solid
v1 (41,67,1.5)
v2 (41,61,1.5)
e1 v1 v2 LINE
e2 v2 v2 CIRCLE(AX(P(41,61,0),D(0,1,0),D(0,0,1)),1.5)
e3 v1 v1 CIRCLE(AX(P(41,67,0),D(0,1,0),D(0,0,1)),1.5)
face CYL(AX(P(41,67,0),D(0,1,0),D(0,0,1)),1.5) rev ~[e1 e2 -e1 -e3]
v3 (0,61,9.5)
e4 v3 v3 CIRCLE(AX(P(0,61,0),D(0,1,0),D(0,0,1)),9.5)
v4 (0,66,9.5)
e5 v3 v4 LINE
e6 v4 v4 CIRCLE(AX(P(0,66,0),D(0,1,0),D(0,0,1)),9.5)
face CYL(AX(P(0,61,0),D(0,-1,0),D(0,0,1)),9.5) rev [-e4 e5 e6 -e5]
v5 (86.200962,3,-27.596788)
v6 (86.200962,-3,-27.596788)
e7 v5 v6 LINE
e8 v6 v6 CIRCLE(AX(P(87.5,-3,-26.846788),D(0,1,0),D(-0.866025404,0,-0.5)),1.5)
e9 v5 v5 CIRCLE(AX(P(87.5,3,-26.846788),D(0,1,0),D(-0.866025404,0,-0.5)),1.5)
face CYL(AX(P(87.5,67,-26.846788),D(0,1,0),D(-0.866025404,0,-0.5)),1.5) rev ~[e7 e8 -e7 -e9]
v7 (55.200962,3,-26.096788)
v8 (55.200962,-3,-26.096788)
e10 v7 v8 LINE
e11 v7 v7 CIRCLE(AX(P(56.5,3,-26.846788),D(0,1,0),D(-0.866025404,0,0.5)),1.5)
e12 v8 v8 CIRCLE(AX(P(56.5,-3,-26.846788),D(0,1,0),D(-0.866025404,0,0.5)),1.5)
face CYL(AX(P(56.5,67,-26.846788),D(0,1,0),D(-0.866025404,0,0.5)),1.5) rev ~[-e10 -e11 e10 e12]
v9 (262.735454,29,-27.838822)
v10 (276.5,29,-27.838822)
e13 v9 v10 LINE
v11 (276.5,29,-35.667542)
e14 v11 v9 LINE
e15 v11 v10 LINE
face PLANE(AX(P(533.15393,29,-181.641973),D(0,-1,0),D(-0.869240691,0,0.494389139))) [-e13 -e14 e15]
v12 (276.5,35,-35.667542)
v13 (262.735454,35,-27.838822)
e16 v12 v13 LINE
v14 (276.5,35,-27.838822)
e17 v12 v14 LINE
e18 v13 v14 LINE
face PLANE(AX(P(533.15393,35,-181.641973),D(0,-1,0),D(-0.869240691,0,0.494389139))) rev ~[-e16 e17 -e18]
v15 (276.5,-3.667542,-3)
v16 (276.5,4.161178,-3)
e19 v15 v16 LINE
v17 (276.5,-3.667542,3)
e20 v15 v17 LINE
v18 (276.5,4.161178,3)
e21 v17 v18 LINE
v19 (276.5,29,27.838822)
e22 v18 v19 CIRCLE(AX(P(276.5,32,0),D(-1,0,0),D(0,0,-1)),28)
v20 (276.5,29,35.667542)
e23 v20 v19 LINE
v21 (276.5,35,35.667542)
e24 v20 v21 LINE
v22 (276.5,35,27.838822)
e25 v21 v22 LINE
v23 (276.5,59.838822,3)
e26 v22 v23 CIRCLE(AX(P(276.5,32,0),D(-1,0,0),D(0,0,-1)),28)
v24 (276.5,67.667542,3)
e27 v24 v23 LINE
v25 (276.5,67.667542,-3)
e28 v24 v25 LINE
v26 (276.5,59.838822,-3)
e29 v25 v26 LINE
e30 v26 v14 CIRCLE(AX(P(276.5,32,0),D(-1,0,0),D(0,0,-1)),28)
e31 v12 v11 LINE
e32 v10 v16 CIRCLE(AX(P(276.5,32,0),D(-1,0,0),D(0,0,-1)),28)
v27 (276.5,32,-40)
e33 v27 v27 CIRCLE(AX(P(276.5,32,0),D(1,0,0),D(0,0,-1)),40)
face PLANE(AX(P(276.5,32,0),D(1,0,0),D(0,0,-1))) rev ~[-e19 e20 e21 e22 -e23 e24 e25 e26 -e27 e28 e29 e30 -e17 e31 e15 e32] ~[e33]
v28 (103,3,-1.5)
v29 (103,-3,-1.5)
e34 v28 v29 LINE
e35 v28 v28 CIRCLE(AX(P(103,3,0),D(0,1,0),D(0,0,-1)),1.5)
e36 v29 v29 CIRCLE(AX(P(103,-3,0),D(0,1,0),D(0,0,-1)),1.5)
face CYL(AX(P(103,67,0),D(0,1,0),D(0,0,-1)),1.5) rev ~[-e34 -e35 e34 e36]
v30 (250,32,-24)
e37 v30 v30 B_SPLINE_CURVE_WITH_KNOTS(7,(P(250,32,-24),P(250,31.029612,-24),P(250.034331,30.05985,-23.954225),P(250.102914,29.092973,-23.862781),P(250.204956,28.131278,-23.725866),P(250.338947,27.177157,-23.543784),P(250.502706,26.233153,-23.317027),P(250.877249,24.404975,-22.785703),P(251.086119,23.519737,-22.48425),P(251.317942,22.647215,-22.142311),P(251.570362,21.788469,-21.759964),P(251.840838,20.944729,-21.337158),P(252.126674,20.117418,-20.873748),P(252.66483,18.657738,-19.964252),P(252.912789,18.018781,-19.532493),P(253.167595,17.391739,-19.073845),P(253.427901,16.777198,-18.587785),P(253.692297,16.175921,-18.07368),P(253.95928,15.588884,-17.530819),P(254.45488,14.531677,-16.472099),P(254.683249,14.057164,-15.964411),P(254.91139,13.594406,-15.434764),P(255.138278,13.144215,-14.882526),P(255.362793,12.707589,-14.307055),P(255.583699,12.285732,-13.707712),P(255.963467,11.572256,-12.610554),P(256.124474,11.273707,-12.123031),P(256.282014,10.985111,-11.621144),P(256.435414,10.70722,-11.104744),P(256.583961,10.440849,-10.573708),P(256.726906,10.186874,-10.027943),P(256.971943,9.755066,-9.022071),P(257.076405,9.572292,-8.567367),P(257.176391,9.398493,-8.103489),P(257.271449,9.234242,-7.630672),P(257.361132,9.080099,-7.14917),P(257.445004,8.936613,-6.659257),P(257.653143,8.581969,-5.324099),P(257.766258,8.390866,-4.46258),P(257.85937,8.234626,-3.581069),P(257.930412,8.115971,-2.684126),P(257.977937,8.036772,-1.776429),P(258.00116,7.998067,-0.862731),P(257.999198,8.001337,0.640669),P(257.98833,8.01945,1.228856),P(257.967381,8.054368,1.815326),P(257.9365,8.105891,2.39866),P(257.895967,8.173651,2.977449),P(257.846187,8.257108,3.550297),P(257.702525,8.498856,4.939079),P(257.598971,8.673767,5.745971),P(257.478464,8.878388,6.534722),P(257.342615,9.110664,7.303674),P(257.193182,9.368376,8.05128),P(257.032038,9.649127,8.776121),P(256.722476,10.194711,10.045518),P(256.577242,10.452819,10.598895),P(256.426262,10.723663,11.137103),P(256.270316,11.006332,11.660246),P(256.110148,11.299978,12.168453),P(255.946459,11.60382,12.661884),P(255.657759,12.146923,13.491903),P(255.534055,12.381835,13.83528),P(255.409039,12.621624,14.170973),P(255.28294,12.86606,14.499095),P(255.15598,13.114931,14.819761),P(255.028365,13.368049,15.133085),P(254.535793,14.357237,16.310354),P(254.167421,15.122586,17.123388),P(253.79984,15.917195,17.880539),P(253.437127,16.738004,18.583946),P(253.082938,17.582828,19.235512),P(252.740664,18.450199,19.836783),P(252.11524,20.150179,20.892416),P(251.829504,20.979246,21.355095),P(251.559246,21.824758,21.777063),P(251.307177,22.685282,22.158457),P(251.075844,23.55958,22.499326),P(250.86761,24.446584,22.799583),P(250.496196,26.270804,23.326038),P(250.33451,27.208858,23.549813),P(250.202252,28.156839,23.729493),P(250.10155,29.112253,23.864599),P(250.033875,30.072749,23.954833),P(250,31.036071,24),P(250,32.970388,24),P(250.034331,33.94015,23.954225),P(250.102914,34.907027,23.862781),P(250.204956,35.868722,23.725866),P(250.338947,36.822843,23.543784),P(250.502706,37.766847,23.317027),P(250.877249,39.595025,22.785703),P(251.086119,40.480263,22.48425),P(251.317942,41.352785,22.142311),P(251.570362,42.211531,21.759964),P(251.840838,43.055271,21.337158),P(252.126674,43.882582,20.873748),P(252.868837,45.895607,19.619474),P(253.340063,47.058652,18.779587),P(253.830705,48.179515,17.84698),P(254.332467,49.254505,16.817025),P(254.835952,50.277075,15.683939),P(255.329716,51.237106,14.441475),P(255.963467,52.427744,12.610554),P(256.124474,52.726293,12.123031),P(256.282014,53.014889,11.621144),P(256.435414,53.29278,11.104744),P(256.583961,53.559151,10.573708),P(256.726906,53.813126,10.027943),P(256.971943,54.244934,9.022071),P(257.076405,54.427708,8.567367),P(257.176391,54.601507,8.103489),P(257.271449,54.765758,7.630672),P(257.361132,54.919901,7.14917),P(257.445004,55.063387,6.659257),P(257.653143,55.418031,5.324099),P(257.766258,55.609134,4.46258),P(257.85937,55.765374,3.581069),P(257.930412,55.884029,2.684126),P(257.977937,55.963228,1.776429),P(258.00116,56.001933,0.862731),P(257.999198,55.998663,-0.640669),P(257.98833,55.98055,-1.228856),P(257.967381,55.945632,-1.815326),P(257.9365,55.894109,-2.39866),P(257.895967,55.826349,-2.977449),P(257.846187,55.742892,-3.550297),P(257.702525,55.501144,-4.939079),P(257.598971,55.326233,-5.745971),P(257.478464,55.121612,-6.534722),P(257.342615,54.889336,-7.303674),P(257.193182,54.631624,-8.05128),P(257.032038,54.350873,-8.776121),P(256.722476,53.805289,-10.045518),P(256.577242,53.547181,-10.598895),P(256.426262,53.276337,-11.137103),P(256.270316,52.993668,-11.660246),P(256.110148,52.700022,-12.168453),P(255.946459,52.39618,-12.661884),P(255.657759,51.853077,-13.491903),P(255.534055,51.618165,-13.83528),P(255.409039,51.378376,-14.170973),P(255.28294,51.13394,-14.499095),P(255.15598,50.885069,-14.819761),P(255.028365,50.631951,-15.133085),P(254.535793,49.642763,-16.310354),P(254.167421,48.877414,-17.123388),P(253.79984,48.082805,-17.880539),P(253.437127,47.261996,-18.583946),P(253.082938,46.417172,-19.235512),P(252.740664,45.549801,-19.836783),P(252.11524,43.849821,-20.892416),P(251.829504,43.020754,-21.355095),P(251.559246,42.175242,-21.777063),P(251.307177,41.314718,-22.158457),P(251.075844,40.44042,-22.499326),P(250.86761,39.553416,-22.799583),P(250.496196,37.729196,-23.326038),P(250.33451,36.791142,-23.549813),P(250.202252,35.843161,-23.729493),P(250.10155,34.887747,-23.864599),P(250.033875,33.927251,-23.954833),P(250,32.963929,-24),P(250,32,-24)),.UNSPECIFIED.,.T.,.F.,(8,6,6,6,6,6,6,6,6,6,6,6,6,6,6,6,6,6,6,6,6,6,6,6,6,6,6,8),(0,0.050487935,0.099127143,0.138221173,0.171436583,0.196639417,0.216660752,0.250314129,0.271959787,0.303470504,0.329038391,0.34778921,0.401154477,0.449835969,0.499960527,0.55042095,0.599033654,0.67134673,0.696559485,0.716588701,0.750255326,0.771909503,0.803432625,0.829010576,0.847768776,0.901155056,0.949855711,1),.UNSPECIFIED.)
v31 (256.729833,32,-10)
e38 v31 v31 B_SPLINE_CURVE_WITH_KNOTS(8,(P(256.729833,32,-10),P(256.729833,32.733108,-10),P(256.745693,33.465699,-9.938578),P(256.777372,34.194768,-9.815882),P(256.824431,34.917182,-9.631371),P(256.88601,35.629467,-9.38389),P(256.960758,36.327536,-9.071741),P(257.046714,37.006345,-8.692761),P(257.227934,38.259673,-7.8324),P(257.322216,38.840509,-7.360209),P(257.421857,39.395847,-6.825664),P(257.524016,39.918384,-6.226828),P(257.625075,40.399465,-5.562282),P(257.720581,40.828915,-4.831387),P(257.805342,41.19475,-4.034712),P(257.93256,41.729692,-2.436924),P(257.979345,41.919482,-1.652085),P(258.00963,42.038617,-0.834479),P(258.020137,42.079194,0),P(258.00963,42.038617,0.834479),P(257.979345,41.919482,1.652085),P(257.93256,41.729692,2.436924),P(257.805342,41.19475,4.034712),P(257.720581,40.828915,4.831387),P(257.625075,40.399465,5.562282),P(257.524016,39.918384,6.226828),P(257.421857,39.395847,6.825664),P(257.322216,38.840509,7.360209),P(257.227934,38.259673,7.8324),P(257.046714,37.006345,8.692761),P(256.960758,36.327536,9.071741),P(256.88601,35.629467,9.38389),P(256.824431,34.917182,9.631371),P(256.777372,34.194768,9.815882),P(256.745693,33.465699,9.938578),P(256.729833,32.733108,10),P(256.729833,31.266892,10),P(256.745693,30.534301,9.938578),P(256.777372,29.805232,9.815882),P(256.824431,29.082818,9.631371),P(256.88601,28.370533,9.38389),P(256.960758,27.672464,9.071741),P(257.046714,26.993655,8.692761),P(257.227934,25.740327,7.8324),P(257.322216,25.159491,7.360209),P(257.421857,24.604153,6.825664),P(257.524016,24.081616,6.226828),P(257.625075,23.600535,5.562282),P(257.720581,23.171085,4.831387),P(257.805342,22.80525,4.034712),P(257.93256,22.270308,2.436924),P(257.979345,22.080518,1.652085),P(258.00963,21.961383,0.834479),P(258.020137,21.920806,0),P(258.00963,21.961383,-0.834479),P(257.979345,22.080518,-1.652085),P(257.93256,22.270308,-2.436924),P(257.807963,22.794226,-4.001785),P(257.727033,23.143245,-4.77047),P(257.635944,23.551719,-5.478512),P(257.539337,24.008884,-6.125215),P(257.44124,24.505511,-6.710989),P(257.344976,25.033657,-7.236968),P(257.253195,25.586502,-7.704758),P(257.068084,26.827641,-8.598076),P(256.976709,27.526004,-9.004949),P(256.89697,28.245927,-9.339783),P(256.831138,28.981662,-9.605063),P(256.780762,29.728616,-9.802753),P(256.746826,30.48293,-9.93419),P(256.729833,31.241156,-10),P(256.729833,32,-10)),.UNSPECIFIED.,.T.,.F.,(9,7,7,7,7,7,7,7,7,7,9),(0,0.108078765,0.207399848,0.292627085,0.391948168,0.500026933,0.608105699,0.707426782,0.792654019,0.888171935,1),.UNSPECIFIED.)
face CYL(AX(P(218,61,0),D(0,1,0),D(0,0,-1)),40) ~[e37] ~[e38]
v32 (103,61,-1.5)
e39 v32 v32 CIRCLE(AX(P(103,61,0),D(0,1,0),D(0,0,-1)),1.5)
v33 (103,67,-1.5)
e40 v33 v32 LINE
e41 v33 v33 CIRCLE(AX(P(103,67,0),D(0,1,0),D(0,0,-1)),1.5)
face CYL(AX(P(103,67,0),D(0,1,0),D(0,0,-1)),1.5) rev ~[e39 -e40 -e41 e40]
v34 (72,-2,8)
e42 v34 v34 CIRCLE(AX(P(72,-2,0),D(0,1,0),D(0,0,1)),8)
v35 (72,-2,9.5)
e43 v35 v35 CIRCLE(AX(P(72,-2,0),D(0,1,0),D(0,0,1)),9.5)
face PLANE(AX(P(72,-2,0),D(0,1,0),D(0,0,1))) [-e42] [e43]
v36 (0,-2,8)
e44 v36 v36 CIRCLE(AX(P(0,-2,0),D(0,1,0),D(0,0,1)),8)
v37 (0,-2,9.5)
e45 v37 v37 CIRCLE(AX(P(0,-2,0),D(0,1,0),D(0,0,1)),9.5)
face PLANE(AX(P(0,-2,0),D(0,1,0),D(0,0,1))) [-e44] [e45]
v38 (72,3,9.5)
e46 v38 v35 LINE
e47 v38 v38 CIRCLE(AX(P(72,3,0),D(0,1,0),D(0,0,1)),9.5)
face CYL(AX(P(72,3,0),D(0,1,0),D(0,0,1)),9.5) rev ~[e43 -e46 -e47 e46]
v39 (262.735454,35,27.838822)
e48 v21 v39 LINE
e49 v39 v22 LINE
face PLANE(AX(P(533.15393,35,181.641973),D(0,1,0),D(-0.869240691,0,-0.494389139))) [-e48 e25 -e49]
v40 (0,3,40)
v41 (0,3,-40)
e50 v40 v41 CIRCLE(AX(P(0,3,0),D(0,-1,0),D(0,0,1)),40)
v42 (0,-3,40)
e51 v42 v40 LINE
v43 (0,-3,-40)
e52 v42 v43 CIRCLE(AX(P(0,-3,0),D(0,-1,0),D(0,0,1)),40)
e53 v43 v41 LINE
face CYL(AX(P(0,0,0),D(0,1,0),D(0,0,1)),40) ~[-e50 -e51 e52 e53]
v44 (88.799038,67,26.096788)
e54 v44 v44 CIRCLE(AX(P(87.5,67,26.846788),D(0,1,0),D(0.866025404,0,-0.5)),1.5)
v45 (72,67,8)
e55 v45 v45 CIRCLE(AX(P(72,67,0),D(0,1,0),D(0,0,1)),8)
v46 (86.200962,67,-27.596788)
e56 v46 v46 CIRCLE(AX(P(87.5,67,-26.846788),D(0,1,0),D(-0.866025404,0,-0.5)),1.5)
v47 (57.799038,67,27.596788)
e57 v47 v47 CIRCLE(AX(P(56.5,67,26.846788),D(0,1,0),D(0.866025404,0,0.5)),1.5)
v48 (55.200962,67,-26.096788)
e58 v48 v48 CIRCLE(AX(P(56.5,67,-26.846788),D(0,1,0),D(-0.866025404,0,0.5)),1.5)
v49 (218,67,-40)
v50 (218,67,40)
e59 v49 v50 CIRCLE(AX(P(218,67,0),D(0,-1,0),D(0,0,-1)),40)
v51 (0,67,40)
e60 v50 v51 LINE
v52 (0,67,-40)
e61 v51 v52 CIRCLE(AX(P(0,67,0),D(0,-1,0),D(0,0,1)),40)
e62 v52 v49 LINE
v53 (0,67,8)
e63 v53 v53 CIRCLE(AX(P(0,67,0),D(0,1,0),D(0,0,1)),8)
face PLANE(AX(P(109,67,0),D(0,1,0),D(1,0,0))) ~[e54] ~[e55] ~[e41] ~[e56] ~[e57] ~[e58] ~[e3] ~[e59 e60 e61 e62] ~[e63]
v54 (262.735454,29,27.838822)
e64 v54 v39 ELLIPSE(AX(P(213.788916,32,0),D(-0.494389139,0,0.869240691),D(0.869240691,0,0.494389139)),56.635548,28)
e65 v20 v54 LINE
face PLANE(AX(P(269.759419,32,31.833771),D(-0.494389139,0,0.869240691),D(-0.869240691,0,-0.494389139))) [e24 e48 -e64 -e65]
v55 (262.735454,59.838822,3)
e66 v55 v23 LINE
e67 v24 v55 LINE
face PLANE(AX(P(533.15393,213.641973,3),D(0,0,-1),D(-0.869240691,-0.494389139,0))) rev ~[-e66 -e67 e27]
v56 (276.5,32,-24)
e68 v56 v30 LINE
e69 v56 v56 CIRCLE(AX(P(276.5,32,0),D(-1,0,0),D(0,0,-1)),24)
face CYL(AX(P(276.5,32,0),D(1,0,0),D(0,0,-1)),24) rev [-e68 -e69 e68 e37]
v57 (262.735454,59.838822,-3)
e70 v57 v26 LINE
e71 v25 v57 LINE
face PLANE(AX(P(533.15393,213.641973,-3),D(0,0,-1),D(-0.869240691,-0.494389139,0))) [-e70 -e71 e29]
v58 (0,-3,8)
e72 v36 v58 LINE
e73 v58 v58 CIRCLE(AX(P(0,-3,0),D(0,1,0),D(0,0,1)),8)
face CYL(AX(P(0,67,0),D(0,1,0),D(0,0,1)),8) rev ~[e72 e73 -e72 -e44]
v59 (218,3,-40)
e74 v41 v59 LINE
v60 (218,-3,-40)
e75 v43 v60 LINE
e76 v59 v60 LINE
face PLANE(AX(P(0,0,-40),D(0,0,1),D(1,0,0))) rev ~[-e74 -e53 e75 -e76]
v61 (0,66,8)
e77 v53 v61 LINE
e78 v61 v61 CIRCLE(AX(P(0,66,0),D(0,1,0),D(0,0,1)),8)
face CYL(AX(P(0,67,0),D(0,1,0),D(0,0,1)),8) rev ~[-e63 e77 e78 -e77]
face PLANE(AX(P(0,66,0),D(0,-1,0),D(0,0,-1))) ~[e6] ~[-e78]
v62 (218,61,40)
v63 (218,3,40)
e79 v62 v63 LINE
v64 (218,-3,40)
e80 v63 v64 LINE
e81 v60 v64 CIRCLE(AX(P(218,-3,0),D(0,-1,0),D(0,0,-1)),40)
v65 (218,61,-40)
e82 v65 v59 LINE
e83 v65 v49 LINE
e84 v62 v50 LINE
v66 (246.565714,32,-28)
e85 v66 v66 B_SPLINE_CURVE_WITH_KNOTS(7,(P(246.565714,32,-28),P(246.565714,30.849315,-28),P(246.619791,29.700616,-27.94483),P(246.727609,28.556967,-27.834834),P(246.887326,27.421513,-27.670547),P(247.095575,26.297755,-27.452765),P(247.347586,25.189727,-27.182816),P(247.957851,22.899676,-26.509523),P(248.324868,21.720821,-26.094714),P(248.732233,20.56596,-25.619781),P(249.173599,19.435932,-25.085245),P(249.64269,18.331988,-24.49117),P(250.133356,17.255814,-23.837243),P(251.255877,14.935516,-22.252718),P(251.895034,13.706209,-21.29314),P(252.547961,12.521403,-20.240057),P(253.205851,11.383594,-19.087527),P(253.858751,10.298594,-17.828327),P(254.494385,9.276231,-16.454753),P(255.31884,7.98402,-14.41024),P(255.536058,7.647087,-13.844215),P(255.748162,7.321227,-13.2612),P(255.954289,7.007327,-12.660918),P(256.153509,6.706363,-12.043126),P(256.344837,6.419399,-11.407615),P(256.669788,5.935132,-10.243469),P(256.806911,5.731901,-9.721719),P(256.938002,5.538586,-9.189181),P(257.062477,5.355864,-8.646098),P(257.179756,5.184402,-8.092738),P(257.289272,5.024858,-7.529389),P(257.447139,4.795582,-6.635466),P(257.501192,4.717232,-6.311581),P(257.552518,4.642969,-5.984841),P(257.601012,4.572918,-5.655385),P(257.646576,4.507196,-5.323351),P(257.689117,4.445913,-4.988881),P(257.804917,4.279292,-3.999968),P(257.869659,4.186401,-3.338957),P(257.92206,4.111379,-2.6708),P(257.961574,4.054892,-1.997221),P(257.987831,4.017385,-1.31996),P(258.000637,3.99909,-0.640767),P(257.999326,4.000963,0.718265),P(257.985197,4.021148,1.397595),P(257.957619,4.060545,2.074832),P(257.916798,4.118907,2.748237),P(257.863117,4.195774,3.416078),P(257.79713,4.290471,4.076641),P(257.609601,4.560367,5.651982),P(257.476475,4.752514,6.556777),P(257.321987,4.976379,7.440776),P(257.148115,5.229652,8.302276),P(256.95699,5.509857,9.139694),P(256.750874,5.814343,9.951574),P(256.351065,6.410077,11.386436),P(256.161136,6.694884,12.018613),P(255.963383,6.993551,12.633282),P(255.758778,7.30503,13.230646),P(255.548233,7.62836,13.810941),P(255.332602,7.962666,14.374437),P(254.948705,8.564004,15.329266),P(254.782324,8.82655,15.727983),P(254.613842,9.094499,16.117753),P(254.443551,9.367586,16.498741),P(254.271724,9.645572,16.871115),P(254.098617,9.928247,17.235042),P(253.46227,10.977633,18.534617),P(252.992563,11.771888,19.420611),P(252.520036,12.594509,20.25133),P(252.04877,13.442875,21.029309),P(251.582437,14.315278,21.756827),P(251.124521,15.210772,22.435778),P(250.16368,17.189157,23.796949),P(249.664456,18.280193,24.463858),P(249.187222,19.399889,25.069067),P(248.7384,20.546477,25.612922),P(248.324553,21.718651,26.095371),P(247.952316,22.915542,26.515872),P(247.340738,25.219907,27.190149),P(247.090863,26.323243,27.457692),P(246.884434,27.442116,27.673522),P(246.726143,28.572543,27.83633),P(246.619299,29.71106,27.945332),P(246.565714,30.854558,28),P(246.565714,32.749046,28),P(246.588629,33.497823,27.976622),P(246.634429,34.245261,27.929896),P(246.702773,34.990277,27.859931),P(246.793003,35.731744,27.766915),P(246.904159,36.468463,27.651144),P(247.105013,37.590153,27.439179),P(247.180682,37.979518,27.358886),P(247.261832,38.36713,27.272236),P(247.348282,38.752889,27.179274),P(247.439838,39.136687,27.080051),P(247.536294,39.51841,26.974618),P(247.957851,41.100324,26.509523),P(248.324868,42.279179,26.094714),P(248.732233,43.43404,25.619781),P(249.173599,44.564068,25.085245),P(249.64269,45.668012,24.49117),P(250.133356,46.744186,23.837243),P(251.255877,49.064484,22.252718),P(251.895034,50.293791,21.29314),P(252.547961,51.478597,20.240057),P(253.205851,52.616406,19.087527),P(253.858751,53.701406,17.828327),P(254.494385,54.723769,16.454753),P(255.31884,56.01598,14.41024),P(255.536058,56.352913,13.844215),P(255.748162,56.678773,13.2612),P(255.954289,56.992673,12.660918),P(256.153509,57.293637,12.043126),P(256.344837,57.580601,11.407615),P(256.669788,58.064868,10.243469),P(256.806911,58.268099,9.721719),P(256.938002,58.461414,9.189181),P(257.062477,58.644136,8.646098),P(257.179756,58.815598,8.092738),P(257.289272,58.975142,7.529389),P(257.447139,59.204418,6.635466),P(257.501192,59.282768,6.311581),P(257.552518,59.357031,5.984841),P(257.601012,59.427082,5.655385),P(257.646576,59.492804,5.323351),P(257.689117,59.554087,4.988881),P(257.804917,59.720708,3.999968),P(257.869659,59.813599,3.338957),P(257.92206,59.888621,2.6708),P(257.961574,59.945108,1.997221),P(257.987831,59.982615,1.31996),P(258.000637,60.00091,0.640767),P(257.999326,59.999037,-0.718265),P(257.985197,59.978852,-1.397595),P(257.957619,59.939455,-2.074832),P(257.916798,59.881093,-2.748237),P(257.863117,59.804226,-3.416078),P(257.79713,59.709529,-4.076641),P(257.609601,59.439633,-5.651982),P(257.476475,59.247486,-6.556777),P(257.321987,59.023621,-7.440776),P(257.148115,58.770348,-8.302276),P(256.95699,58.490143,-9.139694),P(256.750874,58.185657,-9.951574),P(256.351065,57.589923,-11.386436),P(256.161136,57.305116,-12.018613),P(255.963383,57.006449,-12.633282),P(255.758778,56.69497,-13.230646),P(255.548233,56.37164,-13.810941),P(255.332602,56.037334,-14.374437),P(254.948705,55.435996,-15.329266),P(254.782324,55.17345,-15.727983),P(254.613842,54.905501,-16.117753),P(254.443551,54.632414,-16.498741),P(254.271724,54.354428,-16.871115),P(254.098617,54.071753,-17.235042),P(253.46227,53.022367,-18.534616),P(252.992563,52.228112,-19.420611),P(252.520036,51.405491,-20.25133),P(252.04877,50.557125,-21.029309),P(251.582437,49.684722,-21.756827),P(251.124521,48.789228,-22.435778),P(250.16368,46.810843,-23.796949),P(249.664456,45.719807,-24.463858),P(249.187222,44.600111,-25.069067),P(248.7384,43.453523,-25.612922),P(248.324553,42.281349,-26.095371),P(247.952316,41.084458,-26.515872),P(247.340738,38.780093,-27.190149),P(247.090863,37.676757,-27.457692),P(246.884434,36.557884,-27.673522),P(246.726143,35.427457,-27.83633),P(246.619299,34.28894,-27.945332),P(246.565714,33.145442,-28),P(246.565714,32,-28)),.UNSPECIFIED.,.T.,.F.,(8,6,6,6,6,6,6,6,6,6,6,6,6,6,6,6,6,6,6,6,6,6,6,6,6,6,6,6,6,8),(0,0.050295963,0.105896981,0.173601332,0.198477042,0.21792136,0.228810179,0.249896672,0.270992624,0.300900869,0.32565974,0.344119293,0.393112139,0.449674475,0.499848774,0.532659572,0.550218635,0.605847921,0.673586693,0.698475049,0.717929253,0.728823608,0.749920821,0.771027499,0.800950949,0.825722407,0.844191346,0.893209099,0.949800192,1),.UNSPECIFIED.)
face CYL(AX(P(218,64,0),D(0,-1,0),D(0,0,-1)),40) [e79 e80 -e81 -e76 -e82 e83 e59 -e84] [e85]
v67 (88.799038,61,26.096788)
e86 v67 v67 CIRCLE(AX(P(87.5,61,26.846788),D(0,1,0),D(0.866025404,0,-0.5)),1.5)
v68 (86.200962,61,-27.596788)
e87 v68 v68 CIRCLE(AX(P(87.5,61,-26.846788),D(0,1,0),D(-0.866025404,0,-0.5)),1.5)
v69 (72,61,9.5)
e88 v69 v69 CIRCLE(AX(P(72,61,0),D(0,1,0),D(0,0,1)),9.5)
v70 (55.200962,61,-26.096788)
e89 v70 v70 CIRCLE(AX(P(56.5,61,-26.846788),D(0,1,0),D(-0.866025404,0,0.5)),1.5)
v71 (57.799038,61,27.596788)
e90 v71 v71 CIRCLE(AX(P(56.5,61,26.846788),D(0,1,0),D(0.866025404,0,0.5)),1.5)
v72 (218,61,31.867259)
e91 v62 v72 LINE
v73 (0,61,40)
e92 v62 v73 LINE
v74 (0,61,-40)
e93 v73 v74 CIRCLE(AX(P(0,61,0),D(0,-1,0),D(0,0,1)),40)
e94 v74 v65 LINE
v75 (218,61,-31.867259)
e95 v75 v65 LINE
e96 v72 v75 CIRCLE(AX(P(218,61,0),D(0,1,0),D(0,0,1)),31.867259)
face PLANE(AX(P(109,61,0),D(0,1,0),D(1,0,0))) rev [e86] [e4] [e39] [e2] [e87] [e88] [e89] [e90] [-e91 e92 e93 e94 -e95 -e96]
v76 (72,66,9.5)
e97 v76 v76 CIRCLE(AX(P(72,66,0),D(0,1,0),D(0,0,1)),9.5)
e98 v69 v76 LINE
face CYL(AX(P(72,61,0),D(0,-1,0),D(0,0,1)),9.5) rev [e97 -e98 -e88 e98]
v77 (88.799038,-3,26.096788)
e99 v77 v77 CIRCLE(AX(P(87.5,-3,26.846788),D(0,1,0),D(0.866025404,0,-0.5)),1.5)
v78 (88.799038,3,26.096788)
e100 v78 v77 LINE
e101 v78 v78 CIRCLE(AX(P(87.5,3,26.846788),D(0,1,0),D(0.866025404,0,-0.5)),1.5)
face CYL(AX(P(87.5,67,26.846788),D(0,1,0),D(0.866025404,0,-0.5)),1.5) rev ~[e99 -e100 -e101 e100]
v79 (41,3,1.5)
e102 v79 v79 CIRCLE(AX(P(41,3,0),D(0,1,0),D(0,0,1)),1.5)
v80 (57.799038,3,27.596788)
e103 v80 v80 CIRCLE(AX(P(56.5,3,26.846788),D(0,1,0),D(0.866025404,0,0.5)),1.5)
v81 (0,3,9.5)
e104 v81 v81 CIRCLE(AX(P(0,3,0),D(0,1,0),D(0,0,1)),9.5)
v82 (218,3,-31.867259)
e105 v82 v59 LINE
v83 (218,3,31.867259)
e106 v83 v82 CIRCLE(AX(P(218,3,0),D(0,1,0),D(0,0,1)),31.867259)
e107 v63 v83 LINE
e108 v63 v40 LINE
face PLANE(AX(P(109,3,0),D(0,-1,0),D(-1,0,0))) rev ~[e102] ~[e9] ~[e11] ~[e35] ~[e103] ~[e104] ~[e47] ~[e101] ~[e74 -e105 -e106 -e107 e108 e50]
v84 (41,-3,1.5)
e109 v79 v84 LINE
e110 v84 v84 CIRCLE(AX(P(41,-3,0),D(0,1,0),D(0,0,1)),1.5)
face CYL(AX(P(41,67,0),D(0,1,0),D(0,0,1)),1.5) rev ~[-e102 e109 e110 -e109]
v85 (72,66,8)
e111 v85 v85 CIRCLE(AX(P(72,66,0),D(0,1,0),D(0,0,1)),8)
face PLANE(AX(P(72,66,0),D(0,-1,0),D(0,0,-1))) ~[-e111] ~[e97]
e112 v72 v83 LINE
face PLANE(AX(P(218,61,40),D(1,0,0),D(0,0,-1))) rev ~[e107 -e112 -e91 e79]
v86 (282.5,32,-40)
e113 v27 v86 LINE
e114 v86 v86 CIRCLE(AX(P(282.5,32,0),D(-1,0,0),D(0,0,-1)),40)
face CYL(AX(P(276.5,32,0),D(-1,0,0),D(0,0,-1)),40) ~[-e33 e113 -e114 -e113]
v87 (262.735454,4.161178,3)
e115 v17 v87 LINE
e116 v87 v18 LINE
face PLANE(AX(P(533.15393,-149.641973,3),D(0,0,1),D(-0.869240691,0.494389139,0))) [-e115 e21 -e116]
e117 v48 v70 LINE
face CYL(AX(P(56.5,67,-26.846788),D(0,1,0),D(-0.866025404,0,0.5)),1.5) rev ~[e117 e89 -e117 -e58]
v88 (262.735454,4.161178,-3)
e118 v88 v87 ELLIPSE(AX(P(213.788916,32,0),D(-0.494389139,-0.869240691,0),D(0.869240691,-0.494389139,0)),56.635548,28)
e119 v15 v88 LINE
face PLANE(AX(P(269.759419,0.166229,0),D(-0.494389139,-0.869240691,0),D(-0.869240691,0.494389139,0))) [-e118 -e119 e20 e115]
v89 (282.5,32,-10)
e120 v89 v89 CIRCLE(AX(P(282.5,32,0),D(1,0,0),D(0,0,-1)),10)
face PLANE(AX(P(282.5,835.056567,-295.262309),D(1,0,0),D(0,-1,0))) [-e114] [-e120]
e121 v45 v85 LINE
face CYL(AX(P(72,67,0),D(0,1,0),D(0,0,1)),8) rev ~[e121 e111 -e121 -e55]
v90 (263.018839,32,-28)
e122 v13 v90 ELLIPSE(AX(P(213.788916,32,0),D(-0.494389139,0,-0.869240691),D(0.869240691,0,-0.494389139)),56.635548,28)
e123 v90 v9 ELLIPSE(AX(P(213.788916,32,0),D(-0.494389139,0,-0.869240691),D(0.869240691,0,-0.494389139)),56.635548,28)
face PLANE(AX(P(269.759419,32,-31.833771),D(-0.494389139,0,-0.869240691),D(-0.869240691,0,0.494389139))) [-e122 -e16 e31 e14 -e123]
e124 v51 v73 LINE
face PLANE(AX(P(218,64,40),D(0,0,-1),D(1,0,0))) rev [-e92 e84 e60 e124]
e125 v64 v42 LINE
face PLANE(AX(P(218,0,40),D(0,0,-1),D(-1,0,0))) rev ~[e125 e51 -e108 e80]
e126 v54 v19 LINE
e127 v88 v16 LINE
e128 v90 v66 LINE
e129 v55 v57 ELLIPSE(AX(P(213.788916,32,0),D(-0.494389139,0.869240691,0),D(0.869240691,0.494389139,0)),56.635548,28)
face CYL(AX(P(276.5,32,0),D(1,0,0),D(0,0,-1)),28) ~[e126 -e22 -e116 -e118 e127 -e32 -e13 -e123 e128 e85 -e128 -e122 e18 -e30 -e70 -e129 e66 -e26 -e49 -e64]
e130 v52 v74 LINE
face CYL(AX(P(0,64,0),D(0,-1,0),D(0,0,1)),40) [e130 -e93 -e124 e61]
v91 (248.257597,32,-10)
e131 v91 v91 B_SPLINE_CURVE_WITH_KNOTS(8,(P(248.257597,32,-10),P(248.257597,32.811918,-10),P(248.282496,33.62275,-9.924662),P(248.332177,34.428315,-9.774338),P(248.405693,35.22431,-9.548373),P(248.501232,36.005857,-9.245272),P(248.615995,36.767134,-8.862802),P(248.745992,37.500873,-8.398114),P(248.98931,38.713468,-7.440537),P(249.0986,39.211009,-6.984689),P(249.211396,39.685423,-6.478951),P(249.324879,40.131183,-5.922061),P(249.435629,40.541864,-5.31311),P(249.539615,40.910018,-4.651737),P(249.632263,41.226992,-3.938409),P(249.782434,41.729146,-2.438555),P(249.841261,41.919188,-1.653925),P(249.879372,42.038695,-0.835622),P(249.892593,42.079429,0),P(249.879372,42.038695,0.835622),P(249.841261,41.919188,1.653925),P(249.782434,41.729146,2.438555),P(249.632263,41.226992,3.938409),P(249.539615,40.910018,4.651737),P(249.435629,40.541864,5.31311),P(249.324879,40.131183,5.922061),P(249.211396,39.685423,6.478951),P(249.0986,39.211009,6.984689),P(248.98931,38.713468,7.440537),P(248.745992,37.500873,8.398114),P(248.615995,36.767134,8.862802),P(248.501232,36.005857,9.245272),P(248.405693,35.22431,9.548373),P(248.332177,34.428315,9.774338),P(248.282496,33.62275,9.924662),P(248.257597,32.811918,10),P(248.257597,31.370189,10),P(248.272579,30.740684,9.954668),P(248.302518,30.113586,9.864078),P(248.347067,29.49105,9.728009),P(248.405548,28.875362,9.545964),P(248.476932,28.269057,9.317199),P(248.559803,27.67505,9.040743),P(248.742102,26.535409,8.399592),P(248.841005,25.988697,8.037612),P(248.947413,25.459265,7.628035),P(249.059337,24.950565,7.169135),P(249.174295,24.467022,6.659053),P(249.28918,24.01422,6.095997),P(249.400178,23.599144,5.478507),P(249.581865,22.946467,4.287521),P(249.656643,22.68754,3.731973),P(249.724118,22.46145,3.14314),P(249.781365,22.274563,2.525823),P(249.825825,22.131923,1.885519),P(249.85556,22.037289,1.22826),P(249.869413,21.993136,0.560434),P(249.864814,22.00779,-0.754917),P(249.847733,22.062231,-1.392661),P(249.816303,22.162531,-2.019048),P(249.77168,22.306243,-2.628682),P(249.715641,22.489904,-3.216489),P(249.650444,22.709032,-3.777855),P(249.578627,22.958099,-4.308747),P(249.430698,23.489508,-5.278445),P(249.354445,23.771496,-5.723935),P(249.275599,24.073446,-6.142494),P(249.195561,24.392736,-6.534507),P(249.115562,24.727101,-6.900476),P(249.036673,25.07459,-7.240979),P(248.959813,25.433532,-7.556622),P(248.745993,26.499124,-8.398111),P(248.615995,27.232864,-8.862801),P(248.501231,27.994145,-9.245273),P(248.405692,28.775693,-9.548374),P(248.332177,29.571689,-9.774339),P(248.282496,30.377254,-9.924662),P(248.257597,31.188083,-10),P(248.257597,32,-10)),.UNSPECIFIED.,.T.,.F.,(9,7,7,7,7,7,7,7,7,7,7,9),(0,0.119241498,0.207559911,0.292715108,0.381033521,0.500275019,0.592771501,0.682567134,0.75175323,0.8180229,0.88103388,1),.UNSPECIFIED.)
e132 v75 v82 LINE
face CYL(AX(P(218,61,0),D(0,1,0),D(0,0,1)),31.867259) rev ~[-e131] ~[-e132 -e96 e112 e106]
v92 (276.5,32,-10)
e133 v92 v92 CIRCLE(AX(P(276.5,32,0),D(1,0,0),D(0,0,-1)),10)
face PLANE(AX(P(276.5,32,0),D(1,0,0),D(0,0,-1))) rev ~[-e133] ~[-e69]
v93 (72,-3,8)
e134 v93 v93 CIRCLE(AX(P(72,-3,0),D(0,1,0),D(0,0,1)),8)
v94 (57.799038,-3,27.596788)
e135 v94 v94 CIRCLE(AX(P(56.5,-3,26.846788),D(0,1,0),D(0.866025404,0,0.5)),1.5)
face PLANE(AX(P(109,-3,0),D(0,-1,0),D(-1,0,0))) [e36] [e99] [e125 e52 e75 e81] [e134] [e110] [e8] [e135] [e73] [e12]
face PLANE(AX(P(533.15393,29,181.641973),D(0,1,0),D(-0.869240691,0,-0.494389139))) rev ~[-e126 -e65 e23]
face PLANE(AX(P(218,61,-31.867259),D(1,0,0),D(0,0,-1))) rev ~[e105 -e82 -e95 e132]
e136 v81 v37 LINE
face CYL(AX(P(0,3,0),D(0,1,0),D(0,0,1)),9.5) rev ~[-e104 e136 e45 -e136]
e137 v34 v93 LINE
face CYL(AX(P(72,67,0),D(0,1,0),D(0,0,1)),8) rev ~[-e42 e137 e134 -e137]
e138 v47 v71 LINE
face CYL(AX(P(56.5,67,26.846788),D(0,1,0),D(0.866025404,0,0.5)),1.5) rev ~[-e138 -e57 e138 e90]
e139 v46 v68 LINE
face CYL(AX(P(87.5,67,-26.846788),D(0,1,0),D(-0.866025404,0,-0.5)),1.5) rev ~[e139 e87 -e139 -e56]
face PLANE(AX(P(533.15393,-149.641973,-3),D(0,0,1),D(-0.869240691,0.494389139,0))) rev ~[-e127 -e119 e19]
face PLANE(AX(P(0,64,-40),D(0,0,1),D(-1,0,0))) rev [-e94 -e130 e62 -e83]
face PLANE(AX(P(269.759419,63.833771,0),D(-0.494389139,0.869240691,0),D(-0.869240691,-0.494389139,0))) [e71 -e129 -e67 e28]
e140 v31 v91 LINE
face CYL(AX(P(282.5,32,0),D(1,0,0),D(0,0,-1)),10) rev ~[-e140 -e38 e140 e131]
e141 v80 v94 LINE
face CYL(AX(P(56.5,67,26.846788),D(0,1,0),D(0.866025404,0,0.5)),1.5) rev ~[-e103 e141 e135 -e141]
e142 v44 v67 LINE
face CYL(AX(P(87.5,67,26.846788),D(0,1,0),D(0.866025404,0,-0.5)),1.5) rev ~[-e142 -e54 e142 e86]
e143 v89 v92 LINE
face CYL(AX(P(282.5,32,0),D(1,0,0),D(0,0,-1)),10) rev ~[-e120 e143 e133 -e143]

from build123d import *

# Parameters (mm, degrees)
EXTRUDE_1_DEPTH          = 3
EXTRUDE_START            = 58
EXTRUDE_2_DEPTH          = 58
EXTRUDE_3_DEPTH          = 0.0001
EXTRUDE_3_DEPTH_BACK     = 6
SKETCH_3_R               = 40
CUT_EXTRUDE_1_DEPTH      = 295.262309003
CUT_EXTRUDE_1_DEPTH_BACK = 295.262309003
EXTRUDE_4_REACH          = 329.042
EXTRUDE_4_END_RADIUS     = 40
SKETCH_5_R               = 28
SKETCH_5_R_2             = 24
RIB_5_REACH              = 296.262
SKETCH_9_WALL_W          = 606.033549296
SKETCH_9_WALL_H          = 6
PATTERN_CIRCULAR_1_COUNT = 4
SKETCH_10_R              = 10
CUT_EXTRUDE_2_DEPTH      = 333.851693714
SKETCH_11_R              = 8
CUT_EXTRUDE_3_DEPTH      = 296.010593044
SKETCH_12_R              = 8
CUT_EXTRUDE_4_DEPTH      = 296.010593044
SKETCH_13_R              = 9.5
CUT_EXTRUDE_5_DEPTH      = 5
SKETCH_14_R              = 1.5
CUT_EXTRUDE_6_DEPTH      = 296.010593044
PATTERN_CIRCULAR_2_COUNT = 6


with BuildPart() as part:
    # 草图1 → 拉伸1 (new, symmetric)
    with BuildSketch(Plane(origin=(0, 0, 0), x_dir=(1, 0, 0), z_dir=(0, 1, 0))):
        with BuildLine():
            Line((0, 40), (218, 40))
            ThreePointArc((218, 40), (258, 0), (218, -40))
            Line((218, -40), (0, -40))
            ThreePointArc((0, -40), (-40, 0), (0, 40))
        make_face()
    extrude_1 = extrude(amount=EXTRUDE_1_DEPTH, both=True)

    # 草图2 → 拉伸2 (add)
    with BuildSketch(Plane(origin=(0, 3, 0), x_dir=(-1, 0, 0), z_dir=(0, 1, 0)).offset(EXTRUDE_START)):
        with BuildLine():
            Line((-218, -31.8672587), (-218, -40))
            ThreePointArc((-218, -40), (-258, 0), (-218, 40))
            Line((-218, 40), (-218, 31.8672587))
            ThreePointArc((-218, 31.8672587), (-249.8672587, 0), (-218, -31.8672587))
        make_face()
    extrude(amount=-EXTRUDE_2_DEPTH)



with BuildPart() as body_2:
    # 草图3 → 拉伸3 (new, two sides: drawn at the far end of the back side and taken through both)
    with BuildSketch(Plane(origin=(282.5, 0, 0), x_dir=(0, 0, -1), z_dir=(1, 0, 0)).offset(-EXTRUDE_3_DEPTH_BACK)):
        with Locations((0, 32)):
            Circle(SKETCH_3_R)
    extrude(amount=EXTRUDE_3_DEPTH + EXTRUDE_3_DEPTH_BACK)

    # 草图4 → 切除-拉伸1 (cut, two sides: drawn at the far end of the back side and taken through both)
    with BuildSketch(Plane.XY.offset(-CUT_EXTRUDE_1_DEPTH_BACK)):
        Polygon((282.5, 835.056567442), (282.5, 76.149376548), (282.5, -15.878690732), (330.214333685, 15.814216416), (962.375669635, 435.709643541), (1731.108568613, 1744.453402873), (1051.232898978, 2143.800326773), align=None)
    extrude(amount=CUT_EXTRUDE_1_DEPTH + CUT_EXTRUDE_1_DEPTH_BACK, mode=Mode.SUBTRACT)


with BuildPart() as part_1:
    add(part.part)

    add(body_2.part)  # 拉伸4 merges body 2
    # 拉伸4: up to this cylinder (the profile starts outside it)
    extrude_4_end = Plane(origin=(218, 32, 0), z_dir=(0, -1, 0)) * Cylinder(EXTRUDE_4_END_RADIUS, 739.084, mode=Mode.PRIVATE)
    # 草图5 → 拉伸4 (add, up to the surface)
    with BuildSketch(Plane.ZY.offset(-276.5), mode=Mode.PRIVATE) as extrude_4_sk1:
        with Locations((0, 32)):
            Circle(SKETCH_5_R)
        with Locations((0, 32)):
            Circle(SKETCH_5_R_2, mode=Mode.SUBTRACT)
    extrude_4_tool1 = extrude(extrude_4_sk1.sketch, amount=EXTRUDE_4_REACH, mode=Mode.PRIVATE) - extrude_4_end
    add(extrude_4_tool1.solids().sort_by_distance((276.5, 32, -27.20804))[0])

    # 草图9 wall → 筋5 (add, up to next)
    with BuildSketch(Plane(origin=(269.759419485, 0.166228951, 0), x_dir=(-0.869240691269, 0.49438913888, 0), z_dir=(-0.49438913888, -0.869240691269, 0)), mode=Mode.PRIVATE) as rib_5_sk1:
        Rectangle(SKETCH_9_WALL_W, SKETCH_9_WALL_H)
    rib_5_tool1 = extrude(rib_5_sk1.sketch, amount=-RIB_5_REACH, mode=Mode.PRIVATE) - part_1.part
    rib_5 = rib_5_tool1.solids().sort_by_distance((269.759419485, 0.166228951, 0))[0]
    add(rib_5)

    # 阵列(圆周)1: 筋5 ×4 about axis
    pattern_circular_1_axis = Axis((276.5, 32, 0), (-1, 0, 0))
    for i in range(1, PATTERN_CIRCULAR_1_COUNT):
        add(rib_5.rotate(pattern_circular_1_axis, i * 360 / PATTERN_CIRCULAR_1_COUNT))

    # 镜向1: 拉伸1 across plane
    add(extrude_1.mirror(Plane.ZX.offset(32)))

    # 草图10 → 切除-拉伸2 (cut, through all)
    with BuildSketch(Plane(origin=(282.5, 0, 0), x_dir=(0, 0, -1), z_dir=(1, 0, 0))):
        with Locations((0, 32)):
            Circle(SKETCH_10_R)
    extrude(amount=-CUT_EXTRUDE_2_DEPTH, mode=Mode.SUBTRACT)

    # 草图11 → 切除-拉伸3 (cut, through all)
    with BuildSketch(Plane(origin=(0, 67, 0), x_dir=(-1, 0, 0), z_dir=(0, 1, 0))):
        Circle(SKETCH_11_R)
    extrude(amount=-CUT_EXTRUDE_3_DEPTH, mode=Mode.SUBTRACT)

    # 草图12 → 切除-拉伸4 (cut, through all)
    with BuildSketch(Plane(origin=(0, 67, 0), x_dir=(-1, 0, 0), z_dir=(0, 1, 0))):
        with Locations((-72, 0)):
            Circle(SKETCH_12_R)
    extrude(amount=-CUT_EXTRUDE_4_DEPTH, mode=Mode.SUBTRACT)

    # 草图13 → 切除-拉伸5 (cut)
    with BuildSketch(Plane(origin=(0, 3, 0), x_dir=(-1, 0, 0), z_dir=(0, 1, 0))):
        with Locations((-72, 0)):
            Circle(SKETCH_13_R)
        Circle(SKETCH_13_R)
    cut_extrude_5 = extrude(amount=-CUT_EXTRUDE_5_DEPTH, mode=Mode.SUBTRACT)

    # 镜向2: 切除-拉伸5 across plane
    add(cut_extrude_5.mirror(Plane.ZX.offset(32)), mode=Mode.SUBTRACT)

    # 草图14 → 切除-拉伸6 (cut, through all)
    with BuildSketch(Plane(origin=(0, 67, 0), x_dir=(-1, 0, 0), z_dir=(0, 1, 0))):
        with Locations((-41, 0)):
            Circle(SKETCH_14_R)
    cut_extrude_6 = extrude(amount=-CUT_EXTRUDE_6_DEPTH, mode=Mode.SUBTRACT)

    # 阵列(圆周)2: 切除-拉伸6 ×6 about axis
    pattern_circular_2_axis = Axis((72, 66, 0), (0, -1, 0))
    for i in range(1, PATTERN_CIRCULAR_2_COUNT):
        add(cut_extrude_6.rotate(pattern_circular_2_axis, i * 360 / PATTERN_CIRCULAR_2_COUNT), mode=Mode.SUBTRACT)


solid = part_1.part
